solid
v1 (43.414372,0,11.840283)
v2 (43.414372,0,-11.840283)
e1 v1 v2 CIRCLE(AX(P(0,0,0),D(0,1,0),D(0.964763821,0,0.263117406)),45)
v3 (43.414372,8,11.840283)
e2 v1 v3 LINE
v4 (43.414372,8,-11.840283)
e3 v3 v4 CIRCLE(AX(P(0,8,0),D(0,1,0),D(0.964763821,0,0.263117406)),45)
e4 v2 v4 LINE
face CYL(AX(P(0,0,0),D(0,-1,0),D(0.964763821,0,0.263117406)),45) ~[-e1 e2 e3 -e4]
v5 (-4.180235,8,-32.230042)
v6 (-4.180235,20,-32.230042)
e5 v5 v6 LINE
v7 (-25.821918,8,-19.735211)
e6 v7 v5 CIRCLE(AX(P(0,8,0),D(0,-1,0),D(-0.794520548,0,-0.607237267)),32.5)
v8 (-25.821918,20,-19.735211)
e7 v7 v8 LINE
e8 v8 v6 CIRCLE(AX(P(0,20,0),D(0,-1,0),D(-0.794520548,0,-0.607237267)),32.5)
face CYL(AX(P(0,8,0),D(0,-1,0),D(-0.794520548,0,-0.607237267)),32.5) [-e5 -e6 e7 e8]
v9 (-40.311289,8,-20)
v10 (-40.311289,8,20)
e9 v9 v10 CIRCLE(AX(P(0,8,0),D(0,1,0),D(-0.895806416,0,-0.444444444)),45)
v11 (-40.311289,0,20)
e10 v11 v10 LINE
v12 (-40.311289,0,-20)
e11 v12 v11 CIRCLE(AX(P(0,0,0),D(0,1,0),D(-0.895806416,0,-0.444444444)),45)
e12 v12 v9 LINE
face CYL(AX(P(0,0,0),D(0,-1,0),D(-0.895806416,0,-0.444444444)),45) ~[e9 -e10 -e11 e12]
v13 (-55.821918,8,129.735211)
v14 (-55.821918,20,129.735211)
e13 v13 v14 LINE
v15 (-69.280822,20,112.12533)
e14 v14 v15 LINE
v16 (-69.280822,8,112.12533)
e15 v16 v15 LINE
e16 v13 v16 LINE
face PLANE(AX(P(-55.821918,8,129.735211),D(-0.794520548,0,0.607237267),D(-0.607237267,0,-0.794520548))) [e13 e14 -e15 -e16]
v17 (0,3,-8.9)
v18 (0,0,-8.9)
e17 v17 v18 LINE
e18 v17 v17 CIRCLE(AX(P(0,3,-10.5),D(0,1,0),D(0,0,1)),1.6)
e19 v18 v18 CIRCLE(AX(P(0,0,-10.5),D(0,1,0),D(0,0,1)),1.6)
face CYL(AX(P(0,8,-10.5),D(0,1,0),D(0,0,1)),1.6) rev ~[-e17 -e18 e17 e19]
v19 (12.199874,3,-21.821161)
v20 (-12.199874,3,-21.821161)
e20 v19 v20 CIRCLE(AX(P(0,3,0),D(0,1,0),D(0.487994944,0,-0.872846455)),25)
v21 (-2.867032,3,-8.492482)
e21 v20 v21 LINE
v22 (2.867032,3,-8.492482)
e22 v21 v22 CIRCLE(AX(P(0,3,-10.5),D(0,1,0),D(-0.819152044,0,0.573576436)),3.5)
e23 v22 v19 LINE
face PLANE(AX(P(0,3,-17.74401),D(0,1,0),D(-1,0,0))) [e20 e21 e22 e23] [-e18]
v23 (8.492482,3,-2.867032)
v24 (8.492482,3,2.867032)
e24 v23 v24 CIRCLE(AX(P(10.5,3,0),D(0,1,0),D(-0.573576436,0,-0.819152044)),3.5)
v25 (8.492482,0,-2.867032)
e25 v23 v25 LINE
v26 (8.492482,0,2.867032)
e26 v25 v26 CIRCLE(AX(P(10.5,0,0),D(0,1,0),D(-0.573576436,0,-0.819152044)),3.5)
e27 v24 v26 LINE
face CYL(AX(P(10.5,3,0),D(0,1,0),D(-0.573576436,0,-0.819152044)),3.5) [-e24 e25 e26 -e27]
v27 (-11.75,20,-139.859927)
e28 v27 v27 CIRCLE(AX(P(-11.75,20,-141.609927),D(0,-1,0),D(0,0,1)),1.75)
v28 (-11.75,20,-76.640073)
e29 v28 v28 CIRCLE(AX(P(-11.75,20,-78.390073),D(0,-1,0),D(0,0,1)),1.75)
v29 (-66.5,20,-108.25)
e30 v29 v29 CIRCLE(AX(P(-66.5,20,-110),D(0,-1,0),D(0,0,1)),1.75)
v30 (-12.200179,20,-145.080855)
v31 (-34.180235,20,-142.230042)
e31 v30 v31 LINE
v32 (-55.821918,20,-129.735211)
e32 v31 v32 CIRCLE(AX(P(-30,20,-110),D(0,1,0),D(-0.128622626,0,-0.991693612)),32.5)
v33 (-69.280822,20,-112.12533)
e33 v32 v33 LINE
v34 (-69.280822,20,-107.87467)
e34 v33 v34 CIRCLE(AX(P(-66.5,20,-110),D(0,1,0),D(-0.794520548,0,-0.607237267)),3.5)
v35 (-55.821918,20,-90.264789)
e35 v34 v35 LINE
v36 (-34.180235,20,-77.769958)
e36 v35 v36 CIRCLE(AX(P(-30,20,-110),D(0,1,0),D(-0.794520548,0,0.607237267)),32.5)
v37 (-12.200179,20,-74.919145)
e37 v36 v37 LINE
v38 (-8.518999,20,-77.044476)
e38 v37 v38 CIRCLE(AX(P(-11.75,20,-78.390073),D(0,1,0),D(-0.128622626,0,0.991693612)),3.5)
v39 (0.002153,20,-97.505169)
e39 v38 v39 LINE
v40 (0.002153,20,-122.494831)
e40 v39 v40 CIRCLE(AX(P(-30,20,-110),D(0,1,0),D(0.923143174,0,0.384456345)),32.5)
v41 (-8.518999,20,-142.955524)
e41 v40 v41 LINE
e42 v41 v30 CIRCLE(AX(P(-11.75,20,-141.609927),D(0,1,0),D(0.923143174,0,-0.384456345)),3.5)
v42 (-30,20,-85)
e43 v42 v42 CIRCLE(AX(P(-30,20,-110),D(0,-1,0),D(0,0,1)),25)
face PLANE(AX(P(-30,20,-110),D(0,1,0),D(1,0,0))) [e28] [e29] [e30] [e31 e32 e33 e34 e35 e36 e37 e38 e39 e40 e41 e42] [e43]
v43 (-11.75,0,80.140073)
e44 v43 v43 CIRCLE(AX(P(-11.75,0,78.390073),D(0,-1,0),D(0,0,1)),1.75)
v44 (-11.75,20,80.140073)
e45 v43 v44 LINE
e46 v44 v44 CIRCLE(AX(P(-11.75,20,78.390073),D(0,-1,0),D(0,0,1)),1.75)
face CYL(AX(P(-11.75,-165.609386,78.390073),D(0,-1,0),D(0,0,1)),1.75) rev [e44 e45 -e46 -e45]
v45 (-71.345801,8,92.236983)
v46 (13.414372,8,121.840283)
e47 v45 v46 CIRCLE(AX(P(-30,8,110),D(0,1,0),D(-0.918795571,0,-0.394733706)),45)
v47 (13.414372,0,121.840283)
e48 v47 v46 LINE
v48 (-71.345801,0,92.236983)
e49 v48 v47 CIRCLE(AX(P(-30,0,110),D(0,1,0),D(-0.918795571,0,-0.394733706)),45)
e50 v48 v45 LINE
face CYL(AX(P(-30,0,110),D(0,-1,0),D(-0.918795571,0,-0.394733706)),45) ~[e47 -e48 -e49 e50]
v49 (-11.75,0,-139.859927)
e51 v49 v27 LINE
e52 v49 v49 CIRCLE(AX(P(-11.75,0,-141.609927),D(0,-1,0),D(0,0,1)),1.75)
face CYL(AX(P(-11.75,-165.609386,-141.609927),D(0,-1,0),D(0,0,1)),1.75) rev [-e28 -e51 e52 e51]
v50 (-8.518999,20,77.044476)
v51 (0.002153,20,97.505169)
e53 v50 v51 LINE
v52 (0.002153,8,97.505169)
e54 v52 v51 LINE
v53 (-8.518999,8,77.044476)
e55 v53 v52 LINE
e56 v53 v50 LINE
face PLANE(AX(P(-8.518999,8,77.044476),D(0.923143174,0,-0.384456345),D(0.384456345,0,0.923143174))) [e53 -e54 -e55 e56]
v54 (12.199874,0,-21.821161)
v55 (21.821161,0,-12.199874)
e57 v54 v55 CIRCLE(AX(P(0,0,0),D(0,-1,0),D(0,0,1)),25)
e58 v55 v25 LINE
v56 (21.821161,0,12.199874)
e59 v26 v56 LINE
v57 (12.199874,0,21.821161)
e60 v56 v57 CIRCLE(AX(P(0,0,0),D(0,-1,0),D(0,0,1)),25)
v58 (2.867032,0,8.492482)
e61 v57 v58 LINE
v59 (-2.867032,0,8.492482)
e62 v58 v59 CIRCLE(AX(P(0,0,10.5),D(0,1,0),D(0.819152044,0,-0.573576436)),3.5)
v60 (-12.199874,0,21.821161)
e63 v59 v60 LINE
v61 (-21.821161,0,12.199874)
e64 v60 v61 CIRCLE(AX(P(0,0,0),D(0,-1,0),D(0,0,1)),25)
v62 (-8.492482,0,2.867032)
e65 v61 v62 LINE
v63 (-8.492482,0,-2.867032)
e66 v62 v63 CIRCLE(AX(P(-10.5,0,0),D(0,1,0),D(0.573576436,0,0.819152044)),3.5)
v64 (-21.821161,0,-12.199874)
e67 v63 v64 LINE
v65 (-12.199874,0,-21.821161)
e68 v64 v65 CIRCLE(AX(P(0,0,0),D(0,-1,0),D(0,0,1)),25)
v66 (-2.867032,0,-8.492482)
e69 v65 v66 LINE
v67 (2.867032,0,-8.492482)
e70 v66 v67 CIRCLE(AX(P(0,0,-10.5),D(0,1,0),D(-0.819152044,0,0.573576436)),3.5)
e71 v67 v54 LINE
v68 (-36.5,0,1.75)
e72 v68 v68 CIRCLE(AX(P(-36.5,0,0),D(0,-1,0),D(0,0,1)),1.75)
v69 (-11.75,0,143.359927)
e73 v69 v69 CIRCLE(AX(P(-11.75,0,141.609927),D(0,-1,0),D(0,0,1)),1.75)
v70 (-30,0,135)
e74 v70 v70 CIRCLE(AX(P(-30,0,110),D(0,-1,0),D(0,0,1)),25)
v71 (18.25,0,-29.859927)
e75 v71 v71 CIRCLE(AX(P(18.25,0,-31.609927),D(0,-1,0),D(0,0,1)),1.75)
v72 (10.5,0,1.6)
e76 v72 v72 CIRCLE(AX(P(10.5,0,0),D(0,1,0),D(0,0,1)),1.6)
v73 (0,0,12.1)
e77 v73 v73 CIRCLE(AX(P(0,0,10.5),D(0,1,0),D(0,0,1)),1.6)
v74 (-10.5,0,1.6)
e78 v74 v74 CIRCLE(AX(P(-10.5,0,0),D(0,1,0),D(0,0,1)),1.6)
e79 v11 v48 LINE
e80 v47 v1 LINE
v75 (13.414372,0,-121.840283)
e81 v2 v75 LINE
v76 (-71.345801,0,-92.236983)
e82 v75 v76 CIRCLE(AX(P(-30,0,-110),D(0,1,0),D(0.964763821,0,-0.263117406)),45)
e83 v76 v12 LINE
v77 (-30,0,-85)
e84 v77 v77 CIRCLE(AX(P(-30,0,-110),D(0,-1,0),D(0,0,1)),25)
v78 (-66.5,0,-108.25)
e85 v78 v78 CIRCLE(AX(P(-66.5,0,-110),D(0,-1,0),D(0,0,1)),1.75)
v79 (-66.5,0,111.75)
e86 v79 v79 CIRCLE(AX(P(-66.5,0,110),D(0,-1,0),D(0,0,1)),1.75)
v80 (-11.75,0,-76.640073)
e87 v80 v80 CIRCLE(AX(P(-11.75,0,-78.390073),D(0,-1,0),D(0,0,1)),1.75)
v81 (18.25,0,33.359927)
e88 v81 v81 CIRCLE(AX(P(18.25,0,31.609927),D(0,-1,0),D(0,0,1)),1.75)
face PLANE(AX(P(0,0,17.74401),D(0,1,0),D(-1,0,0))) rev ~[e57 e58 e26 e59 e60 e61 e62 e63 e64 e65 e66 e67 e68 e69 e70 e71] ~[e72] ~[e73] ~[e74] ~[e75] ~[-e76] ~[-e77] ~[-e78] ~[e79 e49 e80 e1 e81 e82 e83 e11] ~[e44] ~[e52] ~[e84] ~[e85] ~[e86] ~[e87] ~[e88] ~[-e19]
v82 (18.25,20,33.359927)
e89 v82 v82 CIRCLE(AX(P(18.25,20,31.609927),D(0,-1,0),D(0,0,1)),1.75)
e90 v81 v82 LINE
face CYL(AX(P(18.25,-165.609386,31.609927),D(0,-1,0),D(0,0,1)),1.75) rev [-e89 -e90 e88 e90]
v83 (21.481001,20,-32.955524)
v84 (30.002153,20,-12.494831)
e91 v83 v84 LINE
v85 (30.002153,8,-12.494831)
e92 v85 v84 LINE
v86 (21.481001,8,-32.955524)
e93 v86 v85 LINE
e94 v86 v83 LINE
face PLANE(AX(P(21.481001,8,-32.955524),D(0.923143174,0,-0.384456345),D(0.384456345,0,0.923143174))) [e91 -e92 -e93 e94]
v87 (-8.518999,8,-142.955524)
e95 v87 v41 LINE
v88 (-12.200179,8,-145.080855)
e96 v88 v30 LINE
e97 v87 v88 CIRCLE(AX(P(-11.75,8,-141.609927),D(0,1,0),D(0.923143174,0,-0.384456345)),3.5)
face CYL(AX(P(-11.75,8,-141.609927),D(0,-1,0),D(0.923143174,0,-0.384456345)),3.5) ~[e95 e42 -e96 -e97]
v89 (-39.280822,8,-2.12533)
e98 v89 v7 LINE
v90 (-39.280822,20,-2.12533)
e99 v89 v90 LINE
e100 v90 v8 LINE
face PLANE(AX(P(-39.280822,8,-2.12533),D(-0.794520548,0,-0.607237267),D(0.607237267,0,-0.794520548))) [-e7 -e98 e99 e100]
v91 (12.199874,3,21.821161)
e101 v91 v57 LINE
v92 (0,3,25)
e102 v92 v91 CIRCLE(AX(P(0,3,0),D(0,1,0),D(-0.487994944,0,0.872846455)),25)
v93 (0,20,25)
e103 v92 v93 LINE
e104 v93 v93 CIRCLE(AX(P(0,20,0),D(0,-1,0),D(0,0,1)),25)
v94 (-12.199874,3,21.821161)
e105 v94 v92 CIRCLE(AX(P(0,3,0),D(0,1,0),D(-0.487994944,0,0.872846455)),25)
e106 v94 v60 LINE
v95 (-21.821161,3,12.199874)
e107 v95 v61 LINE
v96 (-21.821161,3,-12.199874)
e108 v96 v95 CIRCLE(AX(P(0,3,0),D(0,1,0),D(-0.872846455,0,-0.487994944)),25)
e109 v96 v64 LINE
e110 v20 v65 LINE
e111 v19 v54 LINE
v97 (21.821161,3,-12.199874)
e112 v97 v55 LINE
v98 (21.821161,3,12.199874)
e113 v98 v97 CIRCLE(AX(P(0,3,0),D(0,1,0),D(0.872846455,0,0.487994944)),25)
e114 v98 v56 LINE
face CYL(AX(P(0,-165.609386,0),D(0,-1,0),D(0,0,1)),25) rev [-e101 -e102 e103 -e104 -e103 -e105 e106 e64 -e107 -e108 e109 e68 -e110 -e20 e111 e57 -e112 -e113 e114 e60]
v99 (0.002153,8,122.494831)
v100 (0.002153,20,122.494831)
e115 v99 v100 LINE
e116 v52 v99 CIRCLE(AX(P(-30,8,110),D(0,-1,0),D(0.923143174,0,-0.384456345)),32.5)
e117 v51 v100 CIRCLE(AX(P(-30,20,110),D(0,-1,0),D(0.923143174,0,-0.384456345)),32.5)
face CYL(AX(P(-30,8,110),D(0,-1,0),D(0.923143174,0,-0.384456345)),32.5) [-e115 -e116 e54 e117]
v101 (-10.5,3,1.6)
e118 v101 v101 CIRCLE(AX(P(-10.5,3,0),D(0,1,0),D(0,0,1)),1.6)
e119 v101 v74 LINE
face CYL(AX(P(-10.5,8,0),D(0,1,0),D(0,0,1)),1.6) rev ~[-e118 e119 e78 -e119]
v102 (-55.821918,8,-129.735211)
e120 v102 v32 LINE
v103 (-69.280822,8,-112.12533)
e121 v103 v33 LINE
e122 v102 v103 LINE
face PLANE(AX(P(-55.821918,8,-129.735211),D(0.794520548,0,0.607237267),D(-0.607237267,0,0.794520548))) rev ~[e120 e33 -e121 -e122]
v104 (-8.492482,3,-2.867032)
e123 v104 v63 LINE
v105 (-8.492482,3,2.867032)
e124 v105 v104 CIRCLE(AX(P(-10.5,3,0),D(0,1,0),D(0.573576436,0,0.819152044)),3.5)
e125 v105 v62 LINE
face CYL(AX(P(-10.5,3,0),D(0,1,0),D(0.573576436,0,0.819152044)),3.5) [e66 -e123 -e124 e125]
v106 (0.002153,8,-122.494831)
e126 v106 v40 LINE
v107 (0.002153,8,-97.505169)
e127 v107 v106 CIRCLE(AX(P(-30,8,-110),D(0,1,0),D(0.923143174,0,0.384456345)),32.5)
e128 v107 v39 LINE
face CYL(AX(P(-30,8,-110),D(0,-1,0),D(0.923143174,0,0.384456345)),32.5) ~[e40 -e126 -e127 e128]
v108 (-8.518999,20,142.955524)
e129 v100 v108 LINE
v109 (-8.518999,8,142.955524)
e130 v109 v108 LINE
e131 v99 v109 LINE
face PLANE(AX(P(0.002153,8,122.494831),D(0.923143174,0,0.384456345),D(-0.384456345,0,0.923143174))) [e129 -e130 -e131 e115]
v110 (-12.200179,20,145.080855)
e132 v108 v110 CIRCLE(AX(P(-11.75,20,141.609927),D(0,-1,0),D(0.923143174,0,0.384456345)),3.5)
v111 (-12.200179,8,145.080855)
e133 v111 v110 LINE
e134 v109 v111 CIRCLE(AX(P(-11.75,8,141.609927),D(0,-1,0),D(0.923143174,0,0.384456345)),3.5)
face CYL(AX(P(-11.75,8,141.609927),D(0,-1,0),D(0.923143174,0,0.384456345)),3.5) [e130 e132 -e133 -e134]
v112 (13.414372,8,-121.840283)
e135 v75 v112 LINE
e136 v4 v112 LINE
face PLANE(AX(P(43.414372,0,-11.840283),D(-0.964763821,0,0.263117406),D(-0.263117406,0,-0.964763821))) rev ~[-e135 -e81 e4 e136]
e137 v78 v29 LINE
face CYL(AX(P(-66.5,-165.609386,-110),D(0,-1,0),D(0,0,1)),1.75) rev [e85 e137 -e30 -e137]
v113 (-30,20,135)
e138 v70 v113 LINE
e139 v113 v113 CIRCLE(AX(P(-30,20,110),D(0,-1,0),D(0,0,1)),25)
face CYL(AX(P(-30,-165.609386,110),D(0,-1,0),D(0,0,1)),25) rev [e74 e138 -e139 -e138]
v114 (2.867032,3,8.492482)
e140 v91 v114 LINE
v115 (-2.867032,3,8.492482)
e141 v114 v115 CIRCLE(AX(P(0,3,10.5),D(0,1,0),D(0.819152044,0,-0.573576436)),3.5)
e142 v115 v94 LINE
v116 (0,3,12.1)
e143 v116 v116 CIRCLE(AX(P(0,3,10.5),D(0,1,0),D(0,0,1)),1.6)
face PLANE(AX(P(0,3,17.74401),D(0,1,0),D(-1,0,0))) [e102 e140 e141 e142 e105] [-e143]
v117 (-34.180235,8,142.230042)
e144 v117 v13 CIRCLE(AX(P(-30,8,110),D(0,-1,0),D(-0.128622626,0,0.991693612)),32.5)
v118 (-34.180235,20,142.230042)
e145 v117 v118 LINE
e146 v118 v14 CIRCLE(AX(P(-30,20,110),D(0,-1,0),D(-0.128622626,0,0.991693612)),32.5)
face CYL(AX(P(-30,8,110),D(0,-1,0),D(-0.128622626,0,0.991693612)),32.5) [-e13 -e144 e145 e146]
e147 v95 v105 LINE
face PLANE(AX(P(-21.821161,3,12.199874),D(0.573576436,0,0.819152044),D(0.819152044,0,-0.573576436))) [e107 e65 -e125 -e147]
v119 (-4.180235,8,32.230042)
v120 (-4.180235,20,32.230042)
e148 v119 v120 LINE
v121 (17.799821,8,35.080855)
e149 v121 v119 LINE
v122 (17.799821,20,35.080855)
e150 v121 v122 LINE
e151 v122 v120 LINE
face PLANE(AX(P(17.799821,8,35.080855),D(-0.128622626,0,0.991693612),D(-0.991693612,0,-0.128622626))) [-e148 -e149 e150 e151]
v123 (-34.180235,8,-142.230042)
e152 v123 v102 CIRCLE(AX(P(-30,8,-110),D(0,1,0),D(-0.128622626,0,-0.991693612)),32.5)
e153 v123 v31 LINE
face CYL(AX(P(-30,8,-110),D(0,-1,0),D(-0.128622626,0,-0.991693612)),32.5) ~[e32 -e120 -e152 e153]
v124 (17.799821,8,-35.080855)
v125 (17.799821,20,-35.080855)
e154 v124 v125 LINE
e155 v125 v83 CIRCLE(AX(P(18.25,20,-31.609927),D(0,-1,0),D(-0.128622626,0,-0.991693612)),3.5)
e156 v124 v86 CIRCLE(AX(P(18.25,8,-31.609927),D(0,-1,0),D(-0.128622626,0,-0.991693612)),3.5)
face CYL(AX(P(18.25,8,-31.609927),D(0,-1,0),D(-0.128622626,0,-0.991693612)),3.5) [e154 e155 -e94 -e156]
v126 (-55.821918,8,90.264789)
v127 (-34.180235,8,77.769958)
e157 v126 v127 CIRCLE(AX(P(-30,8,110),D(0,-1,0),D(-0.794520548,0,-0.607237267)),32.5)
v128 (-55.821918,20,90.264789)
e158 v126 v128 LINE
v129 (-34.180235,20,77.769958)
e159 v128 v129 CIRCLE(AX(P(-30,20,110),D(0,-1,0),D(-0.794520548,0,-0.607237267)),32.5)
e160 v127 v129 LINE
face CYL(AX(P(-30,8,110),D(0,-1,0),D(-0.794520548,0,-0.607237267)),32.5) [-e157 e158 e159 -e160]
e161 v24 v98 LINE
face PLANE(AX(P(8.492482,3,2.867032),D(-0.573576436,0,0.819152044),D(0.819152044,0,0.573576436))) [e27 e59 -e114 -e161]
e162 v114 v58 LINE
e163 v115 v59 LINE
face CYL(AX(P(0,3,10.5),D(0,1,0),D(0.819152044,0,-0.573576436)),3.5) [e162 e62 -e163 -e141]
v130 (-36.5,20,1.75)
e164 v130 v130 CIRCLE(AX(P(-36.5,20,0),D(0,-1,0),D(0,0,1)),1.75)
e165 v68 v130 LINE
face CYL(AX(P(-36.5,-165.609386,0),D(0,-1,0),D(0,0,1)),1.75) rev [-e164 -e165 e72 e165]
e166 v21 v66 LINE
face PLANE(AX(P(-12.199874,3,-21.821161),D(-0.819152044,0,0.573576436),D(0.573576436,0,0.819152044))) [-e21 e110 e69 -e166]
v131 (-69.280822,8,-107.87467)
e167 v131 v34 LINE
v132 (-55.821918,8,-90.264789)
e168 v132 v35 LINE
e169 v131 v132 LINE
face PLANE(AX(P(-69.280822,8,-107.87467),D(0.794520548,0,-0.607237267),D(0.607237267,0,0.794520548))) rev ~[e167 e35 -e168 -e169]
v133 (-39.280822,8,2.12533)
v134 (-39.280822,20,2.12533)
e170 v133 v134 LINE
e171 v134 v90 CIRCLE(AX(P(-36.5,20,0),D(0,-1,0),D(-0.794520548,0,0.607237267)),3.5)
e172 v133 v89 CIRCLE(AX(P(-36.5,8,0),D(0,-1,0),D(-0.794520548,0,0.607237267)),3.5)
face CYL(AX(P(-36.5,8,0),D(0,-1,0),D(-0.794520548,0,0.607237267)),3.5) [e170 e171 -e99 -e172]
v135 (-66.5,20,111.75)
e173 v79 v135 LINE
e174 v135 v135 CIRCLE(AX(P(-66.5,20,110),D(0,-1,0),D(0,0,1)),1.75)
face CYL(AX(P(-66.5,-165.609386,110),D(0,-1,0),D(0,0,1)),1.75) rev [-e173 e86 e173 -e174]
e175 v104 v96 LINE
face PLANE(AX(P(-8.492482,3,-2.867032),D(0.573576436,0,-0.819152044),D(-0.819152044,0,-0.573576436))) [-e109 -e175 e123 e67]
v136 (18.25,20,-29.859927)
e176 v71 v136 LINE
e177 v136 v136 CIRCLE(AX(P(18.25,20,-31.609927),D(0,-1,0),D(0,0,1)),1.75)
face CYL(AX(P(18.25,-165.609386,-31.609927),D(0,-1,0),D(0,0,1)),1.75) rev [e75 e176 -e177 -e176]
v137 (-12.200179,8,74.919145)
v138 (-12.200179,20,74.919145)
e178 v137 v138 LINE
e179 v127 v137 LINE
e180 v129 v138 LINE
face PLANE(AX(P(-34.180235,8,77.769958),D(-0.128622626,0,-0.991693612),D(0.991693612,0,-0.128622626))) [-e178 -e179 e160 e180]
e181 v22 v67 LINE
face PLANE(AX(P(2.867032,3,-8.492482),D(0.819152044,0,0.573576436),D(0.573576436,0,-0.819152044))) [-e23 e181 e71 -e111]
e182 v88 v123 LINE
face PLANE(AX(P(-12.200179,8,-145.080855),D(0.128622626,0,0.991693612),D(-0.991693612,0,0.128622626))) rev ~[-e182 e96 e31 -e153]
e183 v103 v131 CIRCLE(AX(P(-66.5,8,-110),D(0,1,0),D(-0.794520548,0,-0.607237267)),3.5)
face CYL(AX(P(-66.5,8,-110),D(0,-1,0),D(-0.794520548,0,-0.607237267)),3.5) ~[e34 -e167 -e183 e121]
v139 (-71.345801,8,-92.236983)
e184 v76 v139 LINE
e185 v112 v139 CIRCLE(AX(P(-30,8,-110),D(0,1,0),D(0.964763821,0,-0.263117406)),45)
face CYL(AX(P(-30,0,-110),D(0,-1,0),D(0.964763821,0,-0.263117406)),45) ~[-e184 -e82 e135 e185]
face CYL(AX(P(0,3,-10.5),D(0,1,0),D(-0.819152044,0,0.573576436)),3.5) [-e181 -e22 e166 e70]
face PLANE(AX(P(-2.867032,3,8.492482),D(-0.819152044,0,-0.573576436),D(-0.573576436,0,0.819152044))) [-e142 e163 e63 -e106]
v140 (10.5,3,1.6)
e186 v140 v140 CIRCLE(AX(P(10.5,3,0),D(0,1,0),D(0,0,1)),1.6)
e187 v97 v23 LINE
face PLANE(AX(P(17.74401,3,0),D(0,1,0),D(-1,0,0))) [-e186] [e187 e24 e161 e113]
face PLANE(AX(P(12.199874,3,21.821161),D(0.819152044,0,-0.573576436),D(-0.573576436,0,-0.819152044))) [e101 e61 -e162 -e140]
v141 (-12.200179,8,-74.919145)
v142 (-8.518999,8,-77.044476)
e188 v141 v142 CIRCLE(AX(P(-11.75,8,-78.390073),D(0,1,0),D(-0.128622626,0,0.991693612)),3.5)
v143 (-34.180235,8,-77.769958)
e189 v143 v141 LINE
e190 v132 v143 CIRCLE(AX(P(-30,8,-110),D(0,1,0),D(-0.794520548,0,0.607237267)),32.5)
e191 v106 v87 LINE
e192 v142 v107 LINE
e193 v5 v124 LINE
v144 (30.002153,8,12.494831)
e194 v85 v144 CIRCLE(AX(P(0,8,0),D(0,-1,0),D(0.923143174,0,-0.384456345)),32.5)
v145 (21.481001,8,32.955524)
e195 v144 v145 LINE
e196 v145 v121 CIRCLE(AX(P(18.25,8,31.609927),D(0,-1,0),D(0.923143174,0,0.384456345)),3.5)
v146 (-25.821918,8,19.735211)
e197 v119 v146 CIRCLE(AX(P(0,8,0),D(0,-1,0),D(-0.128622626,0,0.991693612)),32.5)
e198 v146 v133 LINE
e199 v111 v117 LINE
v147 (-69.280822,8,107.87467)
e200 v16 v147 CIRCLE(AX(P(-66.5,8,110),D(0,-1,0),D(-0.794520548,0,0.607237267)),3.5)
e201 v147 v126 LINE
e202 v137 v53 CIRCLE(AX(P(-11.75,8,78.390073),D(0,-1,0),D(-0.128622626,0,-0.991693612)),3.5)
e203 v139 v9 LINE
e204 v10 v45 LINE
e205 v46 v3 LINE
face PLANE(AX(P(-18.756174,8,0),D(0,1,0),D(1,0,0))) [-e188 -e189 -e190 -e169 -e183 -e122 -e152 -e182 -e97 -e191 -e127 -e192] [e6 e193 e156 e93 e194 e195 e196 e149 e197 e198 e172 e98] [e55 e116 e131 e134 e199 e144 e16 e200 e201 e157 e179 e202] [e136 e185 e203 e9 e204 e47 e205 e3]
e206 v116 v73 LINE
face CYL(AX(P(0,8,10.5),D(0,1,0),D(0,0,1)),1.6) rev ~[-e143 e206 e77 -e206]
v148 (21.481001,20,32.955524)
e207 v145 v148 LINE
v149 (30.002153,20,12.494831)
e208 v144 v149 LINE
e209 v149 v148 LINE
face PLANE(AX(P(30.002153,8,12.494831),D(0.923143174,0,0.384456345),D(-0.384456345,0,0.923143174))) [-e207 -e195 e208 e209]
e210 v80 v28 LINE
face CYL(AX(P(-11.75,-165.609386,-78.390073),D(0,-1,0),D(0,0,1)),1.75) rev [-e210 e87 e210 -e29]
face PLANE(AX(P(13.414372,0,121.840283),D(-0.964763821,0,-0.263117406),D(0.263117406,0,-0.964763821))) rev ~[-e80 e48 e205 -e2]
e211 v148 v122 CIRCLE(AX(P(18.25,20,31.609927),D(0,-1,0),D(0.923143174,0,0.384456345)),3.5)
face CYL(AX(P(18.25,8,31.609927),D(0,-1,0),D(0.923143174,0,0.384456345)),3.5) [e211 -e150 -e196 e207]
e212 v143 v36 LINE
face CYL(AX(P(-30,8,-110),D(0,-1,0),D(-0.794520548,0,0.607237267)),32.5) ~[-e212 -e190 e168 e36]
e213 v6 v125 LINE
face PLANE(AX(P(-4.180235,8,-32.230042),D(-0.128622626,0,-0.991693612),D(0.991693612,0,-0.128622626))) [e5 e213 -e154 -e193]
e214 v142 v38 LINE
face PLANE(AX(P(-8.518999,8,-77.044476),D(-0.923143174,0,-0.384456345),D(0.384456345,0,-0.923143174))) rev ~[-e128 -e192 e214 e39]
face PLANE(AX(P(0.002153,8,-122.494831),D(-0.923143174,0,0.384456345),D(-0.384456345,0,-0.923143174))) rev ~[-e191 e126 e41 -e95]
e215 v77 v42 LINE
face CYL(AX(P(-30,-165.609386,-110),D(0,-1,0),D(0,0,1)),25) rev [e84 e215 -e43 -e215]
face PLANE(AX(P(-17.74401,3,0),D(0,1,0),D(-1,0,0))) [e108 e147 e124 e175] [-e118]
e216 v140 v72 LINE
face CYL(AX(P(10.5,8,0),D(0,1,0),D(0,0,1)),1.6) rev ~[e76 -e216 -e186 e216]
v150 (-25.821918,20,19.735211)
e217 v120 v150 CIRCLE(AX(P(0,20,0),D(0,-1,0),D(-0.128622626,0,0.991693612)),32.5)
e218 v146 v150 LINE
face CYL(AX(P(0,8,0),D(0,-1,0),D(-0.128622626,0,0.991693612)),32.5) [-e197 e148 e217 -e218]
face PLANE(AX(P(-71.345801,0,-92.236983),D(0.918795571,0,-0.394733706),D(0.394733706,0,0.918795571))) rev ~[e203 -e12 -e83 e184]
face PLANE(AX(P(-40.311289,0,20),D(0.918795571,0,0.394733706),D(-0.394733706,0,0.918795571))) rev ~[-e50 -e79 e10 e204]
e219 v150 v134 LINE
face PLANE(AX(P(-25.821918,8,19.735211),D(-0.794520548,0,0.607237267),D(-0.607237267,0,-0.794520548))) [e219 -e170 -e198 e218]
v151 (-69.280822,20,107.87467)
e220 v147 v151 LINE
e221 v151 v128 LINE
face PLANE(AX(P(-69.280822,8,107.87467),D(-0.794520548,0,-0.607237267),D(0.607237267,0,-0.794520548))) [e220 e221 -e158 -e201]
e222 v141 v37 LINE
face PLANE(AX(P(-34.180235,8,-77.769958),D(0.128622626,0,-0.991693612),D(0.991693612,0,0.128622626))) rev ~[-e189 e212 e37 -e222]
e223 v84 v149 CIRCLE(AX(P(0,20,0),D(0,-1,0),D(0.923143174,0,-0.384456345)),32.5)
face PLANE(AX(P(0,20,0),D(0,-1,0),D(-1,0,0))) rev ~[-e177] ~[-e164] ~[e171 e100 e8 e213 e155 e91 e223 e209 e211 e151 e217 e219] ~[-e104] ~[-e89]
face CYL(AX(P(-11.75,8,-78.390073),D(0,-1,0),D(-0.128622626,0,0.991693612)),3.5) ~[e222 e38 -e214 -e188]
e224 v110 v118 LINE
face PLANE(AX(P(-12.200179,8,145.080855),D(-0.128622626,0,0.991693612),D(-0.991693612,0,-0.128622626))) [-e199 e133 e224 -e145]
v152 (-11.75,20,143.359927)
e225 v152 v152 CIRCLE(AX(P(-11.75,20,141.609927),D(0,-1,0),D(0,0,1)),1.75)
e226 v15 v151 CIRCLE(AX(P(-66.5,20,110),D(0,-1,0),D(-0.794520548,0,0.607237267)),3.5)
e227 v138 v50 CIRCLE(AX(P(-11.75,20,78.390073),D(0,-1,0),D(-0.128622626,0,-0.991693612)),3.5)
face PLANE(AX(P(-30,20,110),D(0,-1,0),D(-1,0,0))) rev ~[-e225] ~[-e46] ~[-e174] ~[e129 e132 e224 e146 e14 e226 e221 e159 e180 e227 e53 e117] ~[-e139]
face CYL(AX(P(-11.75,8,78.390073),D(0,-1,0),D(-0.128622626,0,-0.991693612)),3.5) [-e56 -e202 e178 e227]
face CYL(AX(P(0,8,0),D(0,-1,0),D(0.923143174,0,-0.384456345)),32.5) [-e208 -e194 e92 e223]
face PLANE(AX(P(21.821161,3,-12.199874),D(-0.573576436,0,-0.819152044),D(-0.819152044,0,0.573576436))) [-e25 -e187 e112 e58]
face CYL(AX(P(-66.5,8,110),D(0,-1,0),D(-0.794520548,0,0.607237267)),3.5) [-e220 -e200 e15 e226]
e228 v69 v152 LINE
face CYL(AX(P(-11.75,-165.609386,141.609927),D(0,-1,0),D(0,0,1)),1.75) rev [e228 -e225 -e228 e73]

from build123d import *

# Parameters (mm, degrees)
SALIENTE_EXTRUIR1_DEPTH    = 8
SALIENTE_EXTRUIR2_DEPTH    = 12
CORTAR_EXTRUIR3_DEPTH      = 173.609385608
CORTAR_EXTRUIR3_DEPTH_BACK = 173.609385608
CROQUIS7_R                 = 25
CROQUIS7_R_2               = 1.75
SALIENTE_EXTRUIR4_START    = -3
SALIENTE_EXTRUIR4_DEPTH    = 3
CROQUIS10_R                = 1.6
CORTAR_EXTRUIR4_DEPTH      = 173.609385608


with BuildPart() as part:
    # Croquis1 → Saliente-Extruir1 (new body)
    with BuildSketch(Plane(origin=(0, 0, 0), x_dir=(1, 0, 0), z_dir=(0, 1, 0))):
        with BuildLine():
            Line((-71.345800689, 92.236983213), (-40.311288741, 20))
            ThreePointArc((-40.311288741, 20), (-45, 0), (-40.311288741, -20))
            Line((-40.311288741, -20), (-71.345800689, -92.236983213))
            ThreePointArc((-71.345800689, -92.236983213), (-44.837742086, -152.483425118), (13.414371956, -121.840283261))
            Line((13.414371956, -121.840283261), (43.414371956, -11.840283261))
            ThreePointArc((43.414371956, -11.840283261), (45, 0), (43.414371956, 11.840283261))
            Line((43.414371956, 11.840283261), (13.414371956, 121.840283261))
            ThreePointArc((13.414371956, 121.840283261), (-44.837742086, 152.483425118), (-71.345800689, 92.236983213))
        make_face()
    extrude(amount=SALIENTE_EXTRUIR1_DEPTH)

    # Croquis6 → Saliente-Extruir2 (add)
    with BuildSketch(Plane(origin=(0, 8, 0), x_dir=(1, 0, 0), z_dir=(0, 1, 0))):
        with BuildLine():
            Line((-39.280821918, 2.125330436), (-25.821917808, 19.73521119))
            ThreePointArc((-25.821917808, 19.73521119), (-16.25, 28.145825623), (-4.180235335, 32.230042391))
            Line((-4.180235335, 32.230042391), (17.79982081, 35.08085488))
            ThreePointArc((17.79982081, 35.08085488), (20, 34.641016151), (21.481001108, 32.955524444))
            Line((21.481001108, 32.955524444), (30.002153144, 12.494831201))
            ThreePointArc((30.002153144, 12.494831201), (32.5, 0), (30.002153144, -12.494831201))
            Line((30.002153144, -12.494831201), (21.481001108, -32.955524444))
            ThreePointArc((21.481001108, -32.955524444), (20, -34.641016151), (17.79982081, -35.08085488))
            Line((17.79982081, -35.08085488), (-4.180235335, -32.230042391))
            ThreePointArc((-4.180235335, -32.230042391), (-16.25, -28.145825623), (-25.821917808, -19.73521119))
            Line((-25.821917808, -19.73521119), (-39.280821918, -2.125330436))
            ThreePointArc((-39.280821918, -2.125330436), (-40, 0), (-39.280821918, 2.125330436))
        make_face()
        with BuildLine():
            Line((-69.280821918, -107.874669564), (-55.821917808, -90.26478881))
            ThreePointArc((-55.821917808, -90.26478881), (-46.25, -81.854174377), (-34.180235335, -77.769957609))
            Line((-34.180235335, -77.769957609), (-12.20017919, -74.91914512))
            ThreePointArc((-12.20017919, -74.91914512), (-10, -75.358983849), (-8.518998892, -77.044475556))
            Line((-8.518998892, -77.044475556), (0.002153144, -97.505168799))
            ThreePointArc((0.002153144, -97.505168799), (2.5, -110), (0.002153144, -122.494831201))
            Line((0.002153144, -122.494831201), (-8.518998892, -142.955524444))
            ThreePointArc((-8.518998892, -142.955524444), (-10, -144.641016151), (-12.20017919, -145.08085488))
            Line((-12.20017919, -145.08085488), (-34.180235335, -142.230042391))
            ThreePointArc((-34.180235335, -142.230042391), (-46.25, -138.145825623), (-55.821917808, -129.73521119))
            Line((-55.821917808, -129.73521119), (-69.280821918, -112.125330436))
            ThreePointArc((-69.280821918, -112.125330436), (-70, -110), (-69.280821918, -107.874669564))
        make_face()
        with BuildLine():
            Line((-69.280821918, 107.874669564), (-55.821917808, 90.26478881))
            ThreePointArc((-55.821917808, 90.26478881), (-46.25, 81.854174377), (-34.180235335, 77.769957609))
            Line((-34.180235335, 77.769957609), (-12.20017919, 74.91914512))
            ThreePointArc((-12.20017919, 74.91914512), (-10, 75.358983849), (-8.518998892, 77.044475556))
            Line((-8.518998892, 77.044475556), (0.002153144, 97.505168799))
            ThreePointArc((0.002153144, 97.505168799), (2.5, 110), (0.002153144, 122.494831201))
            Line((0.002153144, 122.494831201), (-8.518998892, 142.955524444))
            ThreePointArc((-8.518998892, 142.955524444), (-10, 144.641016151), (-12.20017919, 145.08085488))
            Line((-12.20017919, 145.08085488), (-34.180235335, 142.230042391))
            ThreePointArc((-34.180235335, 142.230042391), (-46.25, 138.145825623), (-55.821917808, 129.73521119))
            Line((-55.821917808, 129.73521119), (-69.280821918, 112.125330436))
            ThreePointArc((-69.280821918, 112.125330436), (-70, 110), (-69.280821918, 107.874669564))
        make_face()
    extrude(amount=SALIENTE_EXTRUIR2_DEPTH)

    # Croquis7 → Cortar-Extruir3 (cut, two sides: drawn at the far end of the back side and taken through both)
    with BuildSketch(Plane(origin=(0, 8, 0), x_dir=(1, 0, 0), z_dir=(0, 1, 0)).offset(-CORTAR_EXTRUIR3_DEPTH_BACK)):
        with Locations(Location((0, 0, 0), (0, 0, 270))):
            Circle(CROQUIS7_R)
        with Locations(Location((-30, 110, 0), (0, 0, 270))):
            Circle(CROQUIS7_R)
        with Locations(Location((-30, -110, 0), (0, 0, 270))):
            Circle(CROQUIS7_R)
        with Locations(Location((-36.5, 0, 0), (0, 0, 270))):
            Circle(CROQUIS7_R_2)
        with Locations(Location((18.25, -31.609927238, 0), (0, 0, 270))):
            Circle(CROQUIS7_R_2)
        with Locations(Location((18.25, 31.609927238, 0), (0, 0, 270))):
            Circle(CROQUIS7_R_2)
        with Locations(Location((-11.75, 141.609927238, 0), (0, 0, 270))):
            Circle(CROQUIS7_R_2)
        with Locations(Location((-66.5, 110, 0), (0, 0, 270))):
            Circle(CROQUIS7_R_2)
        with Locations(Location((-11.75, 78.390072762, 0), (0, 0, 270))):
            Circle(CROQUIS7_R_2)
        with Locations(Location((-66.5, -110, 0), (0, 0, 270))):
            Circle(CROQUIS7_R_2)
        with Locations(Location((-11.75, -141.609927238, 0), (0, 0, 270))):
            Circle(CROQUIS7_R_2)
        with Locations(Location((-11.75, -78.390072762, 0), (0, 0, 270))):
            Circle(CROQUIS7_R_2)
    extrude(amount=CORTAR_EXTRUIR3_DEPTH + CORTAR_EXTRUIR3_DEPTH_BACK, mode=Mode.SUBTRACT)

    # Croquis9 → Saliente-Extruir4 (add)
    with BuildSketch(Plane.XZ.offset(SALIENTE_EXTRUIR4_START)):
        with BuildLine():
            Line((-2.867032155, 8.492482473), (-12.199873602, 21.821161383))
            ThreePointArc((-12.199873602, 21.821161383), (0, 25), (12.199873602, 21.821161383))
            Line((12.199873602, 21.821161383), (2.867032155, 8.492482473))
            ThreePointArc((2.867032155, 8.492482473), (0, 7), (-2.867032155, 8.492482473))
        make_face()
        with BuildLine():
            Line((8.492482473, 2.867032155), (21.821161383, 12.199873602))
            ThreePointArc((21.821161383, 12.199873602), (25, 0), (21.821161383, -12.199873602))
            Line((21.821161383, -12.199873602), (8.492482473, -2.867032155))
            ThreePointArc((8.492482473, -2.867032155), (7, 0), (8.492482473, 2.867032155))
        make_face()
        with BuildLine():
            Line((2.867032155, -8.492482473), (12.199873602, -21.821161383))
            ThreePointArc((12.199873602, -21.821161383), (0, -25), (-12.199873602, -21.821161383))
            Line((-12.199873602, -21.821161383), (-2.867032155, -8.492482473))
            ThreePointArc((-2.867032155, -8.492482473), (0, -7), (2.867032155, -8.492482473))
        make_face()
        with BuildLine():
            Line((-8.492482473, -2.867032155), (-21.821161383, -12.199873602))
            ThreePointArc((-21.821161383, -12.199873602), (-25, 0), (-21.821161383, 12.199873602))
            Line((-21.821161383, 12.199873602), (-8.492482473, 2.867032155))
            ThreePointArc((-8.492482473, 2.867032155), (-7, 0), (-8.492482473, -2.867032155))
        make_face()
    extrude(amount=SALIENTE_EXTRUIR4_DEPTH)

    # Croquis10 → Cortar-Extruir4 (cut, through all)
    with BuildSketch(Plane(origin=(0, 8, 0), x_dir=(1, 0, 0), z_dir=(0, 1, 0))):
        with Locations(Location((-10.5, 0, 0), (0, 0, 270))):
            Circle(CROQUIS10_R)
        with Locations(Location((0, -10.5, 0), (0, 0, 270))):
            Circle(CROQUIS10_R)
        with Locations(Location((10.5, 0, 0), (0, 0, 270))):
            Circle(CROQUIS10_R)
        with Locations(Location((0, 10.5, 0), (0, 0, 270))):
            Circle(CROQUIS10_R)
    extrude(amount=-CORTAR_EXTRUIR4_DEPTH, mode=Mode.SUBTRACT)


solid = part.part
